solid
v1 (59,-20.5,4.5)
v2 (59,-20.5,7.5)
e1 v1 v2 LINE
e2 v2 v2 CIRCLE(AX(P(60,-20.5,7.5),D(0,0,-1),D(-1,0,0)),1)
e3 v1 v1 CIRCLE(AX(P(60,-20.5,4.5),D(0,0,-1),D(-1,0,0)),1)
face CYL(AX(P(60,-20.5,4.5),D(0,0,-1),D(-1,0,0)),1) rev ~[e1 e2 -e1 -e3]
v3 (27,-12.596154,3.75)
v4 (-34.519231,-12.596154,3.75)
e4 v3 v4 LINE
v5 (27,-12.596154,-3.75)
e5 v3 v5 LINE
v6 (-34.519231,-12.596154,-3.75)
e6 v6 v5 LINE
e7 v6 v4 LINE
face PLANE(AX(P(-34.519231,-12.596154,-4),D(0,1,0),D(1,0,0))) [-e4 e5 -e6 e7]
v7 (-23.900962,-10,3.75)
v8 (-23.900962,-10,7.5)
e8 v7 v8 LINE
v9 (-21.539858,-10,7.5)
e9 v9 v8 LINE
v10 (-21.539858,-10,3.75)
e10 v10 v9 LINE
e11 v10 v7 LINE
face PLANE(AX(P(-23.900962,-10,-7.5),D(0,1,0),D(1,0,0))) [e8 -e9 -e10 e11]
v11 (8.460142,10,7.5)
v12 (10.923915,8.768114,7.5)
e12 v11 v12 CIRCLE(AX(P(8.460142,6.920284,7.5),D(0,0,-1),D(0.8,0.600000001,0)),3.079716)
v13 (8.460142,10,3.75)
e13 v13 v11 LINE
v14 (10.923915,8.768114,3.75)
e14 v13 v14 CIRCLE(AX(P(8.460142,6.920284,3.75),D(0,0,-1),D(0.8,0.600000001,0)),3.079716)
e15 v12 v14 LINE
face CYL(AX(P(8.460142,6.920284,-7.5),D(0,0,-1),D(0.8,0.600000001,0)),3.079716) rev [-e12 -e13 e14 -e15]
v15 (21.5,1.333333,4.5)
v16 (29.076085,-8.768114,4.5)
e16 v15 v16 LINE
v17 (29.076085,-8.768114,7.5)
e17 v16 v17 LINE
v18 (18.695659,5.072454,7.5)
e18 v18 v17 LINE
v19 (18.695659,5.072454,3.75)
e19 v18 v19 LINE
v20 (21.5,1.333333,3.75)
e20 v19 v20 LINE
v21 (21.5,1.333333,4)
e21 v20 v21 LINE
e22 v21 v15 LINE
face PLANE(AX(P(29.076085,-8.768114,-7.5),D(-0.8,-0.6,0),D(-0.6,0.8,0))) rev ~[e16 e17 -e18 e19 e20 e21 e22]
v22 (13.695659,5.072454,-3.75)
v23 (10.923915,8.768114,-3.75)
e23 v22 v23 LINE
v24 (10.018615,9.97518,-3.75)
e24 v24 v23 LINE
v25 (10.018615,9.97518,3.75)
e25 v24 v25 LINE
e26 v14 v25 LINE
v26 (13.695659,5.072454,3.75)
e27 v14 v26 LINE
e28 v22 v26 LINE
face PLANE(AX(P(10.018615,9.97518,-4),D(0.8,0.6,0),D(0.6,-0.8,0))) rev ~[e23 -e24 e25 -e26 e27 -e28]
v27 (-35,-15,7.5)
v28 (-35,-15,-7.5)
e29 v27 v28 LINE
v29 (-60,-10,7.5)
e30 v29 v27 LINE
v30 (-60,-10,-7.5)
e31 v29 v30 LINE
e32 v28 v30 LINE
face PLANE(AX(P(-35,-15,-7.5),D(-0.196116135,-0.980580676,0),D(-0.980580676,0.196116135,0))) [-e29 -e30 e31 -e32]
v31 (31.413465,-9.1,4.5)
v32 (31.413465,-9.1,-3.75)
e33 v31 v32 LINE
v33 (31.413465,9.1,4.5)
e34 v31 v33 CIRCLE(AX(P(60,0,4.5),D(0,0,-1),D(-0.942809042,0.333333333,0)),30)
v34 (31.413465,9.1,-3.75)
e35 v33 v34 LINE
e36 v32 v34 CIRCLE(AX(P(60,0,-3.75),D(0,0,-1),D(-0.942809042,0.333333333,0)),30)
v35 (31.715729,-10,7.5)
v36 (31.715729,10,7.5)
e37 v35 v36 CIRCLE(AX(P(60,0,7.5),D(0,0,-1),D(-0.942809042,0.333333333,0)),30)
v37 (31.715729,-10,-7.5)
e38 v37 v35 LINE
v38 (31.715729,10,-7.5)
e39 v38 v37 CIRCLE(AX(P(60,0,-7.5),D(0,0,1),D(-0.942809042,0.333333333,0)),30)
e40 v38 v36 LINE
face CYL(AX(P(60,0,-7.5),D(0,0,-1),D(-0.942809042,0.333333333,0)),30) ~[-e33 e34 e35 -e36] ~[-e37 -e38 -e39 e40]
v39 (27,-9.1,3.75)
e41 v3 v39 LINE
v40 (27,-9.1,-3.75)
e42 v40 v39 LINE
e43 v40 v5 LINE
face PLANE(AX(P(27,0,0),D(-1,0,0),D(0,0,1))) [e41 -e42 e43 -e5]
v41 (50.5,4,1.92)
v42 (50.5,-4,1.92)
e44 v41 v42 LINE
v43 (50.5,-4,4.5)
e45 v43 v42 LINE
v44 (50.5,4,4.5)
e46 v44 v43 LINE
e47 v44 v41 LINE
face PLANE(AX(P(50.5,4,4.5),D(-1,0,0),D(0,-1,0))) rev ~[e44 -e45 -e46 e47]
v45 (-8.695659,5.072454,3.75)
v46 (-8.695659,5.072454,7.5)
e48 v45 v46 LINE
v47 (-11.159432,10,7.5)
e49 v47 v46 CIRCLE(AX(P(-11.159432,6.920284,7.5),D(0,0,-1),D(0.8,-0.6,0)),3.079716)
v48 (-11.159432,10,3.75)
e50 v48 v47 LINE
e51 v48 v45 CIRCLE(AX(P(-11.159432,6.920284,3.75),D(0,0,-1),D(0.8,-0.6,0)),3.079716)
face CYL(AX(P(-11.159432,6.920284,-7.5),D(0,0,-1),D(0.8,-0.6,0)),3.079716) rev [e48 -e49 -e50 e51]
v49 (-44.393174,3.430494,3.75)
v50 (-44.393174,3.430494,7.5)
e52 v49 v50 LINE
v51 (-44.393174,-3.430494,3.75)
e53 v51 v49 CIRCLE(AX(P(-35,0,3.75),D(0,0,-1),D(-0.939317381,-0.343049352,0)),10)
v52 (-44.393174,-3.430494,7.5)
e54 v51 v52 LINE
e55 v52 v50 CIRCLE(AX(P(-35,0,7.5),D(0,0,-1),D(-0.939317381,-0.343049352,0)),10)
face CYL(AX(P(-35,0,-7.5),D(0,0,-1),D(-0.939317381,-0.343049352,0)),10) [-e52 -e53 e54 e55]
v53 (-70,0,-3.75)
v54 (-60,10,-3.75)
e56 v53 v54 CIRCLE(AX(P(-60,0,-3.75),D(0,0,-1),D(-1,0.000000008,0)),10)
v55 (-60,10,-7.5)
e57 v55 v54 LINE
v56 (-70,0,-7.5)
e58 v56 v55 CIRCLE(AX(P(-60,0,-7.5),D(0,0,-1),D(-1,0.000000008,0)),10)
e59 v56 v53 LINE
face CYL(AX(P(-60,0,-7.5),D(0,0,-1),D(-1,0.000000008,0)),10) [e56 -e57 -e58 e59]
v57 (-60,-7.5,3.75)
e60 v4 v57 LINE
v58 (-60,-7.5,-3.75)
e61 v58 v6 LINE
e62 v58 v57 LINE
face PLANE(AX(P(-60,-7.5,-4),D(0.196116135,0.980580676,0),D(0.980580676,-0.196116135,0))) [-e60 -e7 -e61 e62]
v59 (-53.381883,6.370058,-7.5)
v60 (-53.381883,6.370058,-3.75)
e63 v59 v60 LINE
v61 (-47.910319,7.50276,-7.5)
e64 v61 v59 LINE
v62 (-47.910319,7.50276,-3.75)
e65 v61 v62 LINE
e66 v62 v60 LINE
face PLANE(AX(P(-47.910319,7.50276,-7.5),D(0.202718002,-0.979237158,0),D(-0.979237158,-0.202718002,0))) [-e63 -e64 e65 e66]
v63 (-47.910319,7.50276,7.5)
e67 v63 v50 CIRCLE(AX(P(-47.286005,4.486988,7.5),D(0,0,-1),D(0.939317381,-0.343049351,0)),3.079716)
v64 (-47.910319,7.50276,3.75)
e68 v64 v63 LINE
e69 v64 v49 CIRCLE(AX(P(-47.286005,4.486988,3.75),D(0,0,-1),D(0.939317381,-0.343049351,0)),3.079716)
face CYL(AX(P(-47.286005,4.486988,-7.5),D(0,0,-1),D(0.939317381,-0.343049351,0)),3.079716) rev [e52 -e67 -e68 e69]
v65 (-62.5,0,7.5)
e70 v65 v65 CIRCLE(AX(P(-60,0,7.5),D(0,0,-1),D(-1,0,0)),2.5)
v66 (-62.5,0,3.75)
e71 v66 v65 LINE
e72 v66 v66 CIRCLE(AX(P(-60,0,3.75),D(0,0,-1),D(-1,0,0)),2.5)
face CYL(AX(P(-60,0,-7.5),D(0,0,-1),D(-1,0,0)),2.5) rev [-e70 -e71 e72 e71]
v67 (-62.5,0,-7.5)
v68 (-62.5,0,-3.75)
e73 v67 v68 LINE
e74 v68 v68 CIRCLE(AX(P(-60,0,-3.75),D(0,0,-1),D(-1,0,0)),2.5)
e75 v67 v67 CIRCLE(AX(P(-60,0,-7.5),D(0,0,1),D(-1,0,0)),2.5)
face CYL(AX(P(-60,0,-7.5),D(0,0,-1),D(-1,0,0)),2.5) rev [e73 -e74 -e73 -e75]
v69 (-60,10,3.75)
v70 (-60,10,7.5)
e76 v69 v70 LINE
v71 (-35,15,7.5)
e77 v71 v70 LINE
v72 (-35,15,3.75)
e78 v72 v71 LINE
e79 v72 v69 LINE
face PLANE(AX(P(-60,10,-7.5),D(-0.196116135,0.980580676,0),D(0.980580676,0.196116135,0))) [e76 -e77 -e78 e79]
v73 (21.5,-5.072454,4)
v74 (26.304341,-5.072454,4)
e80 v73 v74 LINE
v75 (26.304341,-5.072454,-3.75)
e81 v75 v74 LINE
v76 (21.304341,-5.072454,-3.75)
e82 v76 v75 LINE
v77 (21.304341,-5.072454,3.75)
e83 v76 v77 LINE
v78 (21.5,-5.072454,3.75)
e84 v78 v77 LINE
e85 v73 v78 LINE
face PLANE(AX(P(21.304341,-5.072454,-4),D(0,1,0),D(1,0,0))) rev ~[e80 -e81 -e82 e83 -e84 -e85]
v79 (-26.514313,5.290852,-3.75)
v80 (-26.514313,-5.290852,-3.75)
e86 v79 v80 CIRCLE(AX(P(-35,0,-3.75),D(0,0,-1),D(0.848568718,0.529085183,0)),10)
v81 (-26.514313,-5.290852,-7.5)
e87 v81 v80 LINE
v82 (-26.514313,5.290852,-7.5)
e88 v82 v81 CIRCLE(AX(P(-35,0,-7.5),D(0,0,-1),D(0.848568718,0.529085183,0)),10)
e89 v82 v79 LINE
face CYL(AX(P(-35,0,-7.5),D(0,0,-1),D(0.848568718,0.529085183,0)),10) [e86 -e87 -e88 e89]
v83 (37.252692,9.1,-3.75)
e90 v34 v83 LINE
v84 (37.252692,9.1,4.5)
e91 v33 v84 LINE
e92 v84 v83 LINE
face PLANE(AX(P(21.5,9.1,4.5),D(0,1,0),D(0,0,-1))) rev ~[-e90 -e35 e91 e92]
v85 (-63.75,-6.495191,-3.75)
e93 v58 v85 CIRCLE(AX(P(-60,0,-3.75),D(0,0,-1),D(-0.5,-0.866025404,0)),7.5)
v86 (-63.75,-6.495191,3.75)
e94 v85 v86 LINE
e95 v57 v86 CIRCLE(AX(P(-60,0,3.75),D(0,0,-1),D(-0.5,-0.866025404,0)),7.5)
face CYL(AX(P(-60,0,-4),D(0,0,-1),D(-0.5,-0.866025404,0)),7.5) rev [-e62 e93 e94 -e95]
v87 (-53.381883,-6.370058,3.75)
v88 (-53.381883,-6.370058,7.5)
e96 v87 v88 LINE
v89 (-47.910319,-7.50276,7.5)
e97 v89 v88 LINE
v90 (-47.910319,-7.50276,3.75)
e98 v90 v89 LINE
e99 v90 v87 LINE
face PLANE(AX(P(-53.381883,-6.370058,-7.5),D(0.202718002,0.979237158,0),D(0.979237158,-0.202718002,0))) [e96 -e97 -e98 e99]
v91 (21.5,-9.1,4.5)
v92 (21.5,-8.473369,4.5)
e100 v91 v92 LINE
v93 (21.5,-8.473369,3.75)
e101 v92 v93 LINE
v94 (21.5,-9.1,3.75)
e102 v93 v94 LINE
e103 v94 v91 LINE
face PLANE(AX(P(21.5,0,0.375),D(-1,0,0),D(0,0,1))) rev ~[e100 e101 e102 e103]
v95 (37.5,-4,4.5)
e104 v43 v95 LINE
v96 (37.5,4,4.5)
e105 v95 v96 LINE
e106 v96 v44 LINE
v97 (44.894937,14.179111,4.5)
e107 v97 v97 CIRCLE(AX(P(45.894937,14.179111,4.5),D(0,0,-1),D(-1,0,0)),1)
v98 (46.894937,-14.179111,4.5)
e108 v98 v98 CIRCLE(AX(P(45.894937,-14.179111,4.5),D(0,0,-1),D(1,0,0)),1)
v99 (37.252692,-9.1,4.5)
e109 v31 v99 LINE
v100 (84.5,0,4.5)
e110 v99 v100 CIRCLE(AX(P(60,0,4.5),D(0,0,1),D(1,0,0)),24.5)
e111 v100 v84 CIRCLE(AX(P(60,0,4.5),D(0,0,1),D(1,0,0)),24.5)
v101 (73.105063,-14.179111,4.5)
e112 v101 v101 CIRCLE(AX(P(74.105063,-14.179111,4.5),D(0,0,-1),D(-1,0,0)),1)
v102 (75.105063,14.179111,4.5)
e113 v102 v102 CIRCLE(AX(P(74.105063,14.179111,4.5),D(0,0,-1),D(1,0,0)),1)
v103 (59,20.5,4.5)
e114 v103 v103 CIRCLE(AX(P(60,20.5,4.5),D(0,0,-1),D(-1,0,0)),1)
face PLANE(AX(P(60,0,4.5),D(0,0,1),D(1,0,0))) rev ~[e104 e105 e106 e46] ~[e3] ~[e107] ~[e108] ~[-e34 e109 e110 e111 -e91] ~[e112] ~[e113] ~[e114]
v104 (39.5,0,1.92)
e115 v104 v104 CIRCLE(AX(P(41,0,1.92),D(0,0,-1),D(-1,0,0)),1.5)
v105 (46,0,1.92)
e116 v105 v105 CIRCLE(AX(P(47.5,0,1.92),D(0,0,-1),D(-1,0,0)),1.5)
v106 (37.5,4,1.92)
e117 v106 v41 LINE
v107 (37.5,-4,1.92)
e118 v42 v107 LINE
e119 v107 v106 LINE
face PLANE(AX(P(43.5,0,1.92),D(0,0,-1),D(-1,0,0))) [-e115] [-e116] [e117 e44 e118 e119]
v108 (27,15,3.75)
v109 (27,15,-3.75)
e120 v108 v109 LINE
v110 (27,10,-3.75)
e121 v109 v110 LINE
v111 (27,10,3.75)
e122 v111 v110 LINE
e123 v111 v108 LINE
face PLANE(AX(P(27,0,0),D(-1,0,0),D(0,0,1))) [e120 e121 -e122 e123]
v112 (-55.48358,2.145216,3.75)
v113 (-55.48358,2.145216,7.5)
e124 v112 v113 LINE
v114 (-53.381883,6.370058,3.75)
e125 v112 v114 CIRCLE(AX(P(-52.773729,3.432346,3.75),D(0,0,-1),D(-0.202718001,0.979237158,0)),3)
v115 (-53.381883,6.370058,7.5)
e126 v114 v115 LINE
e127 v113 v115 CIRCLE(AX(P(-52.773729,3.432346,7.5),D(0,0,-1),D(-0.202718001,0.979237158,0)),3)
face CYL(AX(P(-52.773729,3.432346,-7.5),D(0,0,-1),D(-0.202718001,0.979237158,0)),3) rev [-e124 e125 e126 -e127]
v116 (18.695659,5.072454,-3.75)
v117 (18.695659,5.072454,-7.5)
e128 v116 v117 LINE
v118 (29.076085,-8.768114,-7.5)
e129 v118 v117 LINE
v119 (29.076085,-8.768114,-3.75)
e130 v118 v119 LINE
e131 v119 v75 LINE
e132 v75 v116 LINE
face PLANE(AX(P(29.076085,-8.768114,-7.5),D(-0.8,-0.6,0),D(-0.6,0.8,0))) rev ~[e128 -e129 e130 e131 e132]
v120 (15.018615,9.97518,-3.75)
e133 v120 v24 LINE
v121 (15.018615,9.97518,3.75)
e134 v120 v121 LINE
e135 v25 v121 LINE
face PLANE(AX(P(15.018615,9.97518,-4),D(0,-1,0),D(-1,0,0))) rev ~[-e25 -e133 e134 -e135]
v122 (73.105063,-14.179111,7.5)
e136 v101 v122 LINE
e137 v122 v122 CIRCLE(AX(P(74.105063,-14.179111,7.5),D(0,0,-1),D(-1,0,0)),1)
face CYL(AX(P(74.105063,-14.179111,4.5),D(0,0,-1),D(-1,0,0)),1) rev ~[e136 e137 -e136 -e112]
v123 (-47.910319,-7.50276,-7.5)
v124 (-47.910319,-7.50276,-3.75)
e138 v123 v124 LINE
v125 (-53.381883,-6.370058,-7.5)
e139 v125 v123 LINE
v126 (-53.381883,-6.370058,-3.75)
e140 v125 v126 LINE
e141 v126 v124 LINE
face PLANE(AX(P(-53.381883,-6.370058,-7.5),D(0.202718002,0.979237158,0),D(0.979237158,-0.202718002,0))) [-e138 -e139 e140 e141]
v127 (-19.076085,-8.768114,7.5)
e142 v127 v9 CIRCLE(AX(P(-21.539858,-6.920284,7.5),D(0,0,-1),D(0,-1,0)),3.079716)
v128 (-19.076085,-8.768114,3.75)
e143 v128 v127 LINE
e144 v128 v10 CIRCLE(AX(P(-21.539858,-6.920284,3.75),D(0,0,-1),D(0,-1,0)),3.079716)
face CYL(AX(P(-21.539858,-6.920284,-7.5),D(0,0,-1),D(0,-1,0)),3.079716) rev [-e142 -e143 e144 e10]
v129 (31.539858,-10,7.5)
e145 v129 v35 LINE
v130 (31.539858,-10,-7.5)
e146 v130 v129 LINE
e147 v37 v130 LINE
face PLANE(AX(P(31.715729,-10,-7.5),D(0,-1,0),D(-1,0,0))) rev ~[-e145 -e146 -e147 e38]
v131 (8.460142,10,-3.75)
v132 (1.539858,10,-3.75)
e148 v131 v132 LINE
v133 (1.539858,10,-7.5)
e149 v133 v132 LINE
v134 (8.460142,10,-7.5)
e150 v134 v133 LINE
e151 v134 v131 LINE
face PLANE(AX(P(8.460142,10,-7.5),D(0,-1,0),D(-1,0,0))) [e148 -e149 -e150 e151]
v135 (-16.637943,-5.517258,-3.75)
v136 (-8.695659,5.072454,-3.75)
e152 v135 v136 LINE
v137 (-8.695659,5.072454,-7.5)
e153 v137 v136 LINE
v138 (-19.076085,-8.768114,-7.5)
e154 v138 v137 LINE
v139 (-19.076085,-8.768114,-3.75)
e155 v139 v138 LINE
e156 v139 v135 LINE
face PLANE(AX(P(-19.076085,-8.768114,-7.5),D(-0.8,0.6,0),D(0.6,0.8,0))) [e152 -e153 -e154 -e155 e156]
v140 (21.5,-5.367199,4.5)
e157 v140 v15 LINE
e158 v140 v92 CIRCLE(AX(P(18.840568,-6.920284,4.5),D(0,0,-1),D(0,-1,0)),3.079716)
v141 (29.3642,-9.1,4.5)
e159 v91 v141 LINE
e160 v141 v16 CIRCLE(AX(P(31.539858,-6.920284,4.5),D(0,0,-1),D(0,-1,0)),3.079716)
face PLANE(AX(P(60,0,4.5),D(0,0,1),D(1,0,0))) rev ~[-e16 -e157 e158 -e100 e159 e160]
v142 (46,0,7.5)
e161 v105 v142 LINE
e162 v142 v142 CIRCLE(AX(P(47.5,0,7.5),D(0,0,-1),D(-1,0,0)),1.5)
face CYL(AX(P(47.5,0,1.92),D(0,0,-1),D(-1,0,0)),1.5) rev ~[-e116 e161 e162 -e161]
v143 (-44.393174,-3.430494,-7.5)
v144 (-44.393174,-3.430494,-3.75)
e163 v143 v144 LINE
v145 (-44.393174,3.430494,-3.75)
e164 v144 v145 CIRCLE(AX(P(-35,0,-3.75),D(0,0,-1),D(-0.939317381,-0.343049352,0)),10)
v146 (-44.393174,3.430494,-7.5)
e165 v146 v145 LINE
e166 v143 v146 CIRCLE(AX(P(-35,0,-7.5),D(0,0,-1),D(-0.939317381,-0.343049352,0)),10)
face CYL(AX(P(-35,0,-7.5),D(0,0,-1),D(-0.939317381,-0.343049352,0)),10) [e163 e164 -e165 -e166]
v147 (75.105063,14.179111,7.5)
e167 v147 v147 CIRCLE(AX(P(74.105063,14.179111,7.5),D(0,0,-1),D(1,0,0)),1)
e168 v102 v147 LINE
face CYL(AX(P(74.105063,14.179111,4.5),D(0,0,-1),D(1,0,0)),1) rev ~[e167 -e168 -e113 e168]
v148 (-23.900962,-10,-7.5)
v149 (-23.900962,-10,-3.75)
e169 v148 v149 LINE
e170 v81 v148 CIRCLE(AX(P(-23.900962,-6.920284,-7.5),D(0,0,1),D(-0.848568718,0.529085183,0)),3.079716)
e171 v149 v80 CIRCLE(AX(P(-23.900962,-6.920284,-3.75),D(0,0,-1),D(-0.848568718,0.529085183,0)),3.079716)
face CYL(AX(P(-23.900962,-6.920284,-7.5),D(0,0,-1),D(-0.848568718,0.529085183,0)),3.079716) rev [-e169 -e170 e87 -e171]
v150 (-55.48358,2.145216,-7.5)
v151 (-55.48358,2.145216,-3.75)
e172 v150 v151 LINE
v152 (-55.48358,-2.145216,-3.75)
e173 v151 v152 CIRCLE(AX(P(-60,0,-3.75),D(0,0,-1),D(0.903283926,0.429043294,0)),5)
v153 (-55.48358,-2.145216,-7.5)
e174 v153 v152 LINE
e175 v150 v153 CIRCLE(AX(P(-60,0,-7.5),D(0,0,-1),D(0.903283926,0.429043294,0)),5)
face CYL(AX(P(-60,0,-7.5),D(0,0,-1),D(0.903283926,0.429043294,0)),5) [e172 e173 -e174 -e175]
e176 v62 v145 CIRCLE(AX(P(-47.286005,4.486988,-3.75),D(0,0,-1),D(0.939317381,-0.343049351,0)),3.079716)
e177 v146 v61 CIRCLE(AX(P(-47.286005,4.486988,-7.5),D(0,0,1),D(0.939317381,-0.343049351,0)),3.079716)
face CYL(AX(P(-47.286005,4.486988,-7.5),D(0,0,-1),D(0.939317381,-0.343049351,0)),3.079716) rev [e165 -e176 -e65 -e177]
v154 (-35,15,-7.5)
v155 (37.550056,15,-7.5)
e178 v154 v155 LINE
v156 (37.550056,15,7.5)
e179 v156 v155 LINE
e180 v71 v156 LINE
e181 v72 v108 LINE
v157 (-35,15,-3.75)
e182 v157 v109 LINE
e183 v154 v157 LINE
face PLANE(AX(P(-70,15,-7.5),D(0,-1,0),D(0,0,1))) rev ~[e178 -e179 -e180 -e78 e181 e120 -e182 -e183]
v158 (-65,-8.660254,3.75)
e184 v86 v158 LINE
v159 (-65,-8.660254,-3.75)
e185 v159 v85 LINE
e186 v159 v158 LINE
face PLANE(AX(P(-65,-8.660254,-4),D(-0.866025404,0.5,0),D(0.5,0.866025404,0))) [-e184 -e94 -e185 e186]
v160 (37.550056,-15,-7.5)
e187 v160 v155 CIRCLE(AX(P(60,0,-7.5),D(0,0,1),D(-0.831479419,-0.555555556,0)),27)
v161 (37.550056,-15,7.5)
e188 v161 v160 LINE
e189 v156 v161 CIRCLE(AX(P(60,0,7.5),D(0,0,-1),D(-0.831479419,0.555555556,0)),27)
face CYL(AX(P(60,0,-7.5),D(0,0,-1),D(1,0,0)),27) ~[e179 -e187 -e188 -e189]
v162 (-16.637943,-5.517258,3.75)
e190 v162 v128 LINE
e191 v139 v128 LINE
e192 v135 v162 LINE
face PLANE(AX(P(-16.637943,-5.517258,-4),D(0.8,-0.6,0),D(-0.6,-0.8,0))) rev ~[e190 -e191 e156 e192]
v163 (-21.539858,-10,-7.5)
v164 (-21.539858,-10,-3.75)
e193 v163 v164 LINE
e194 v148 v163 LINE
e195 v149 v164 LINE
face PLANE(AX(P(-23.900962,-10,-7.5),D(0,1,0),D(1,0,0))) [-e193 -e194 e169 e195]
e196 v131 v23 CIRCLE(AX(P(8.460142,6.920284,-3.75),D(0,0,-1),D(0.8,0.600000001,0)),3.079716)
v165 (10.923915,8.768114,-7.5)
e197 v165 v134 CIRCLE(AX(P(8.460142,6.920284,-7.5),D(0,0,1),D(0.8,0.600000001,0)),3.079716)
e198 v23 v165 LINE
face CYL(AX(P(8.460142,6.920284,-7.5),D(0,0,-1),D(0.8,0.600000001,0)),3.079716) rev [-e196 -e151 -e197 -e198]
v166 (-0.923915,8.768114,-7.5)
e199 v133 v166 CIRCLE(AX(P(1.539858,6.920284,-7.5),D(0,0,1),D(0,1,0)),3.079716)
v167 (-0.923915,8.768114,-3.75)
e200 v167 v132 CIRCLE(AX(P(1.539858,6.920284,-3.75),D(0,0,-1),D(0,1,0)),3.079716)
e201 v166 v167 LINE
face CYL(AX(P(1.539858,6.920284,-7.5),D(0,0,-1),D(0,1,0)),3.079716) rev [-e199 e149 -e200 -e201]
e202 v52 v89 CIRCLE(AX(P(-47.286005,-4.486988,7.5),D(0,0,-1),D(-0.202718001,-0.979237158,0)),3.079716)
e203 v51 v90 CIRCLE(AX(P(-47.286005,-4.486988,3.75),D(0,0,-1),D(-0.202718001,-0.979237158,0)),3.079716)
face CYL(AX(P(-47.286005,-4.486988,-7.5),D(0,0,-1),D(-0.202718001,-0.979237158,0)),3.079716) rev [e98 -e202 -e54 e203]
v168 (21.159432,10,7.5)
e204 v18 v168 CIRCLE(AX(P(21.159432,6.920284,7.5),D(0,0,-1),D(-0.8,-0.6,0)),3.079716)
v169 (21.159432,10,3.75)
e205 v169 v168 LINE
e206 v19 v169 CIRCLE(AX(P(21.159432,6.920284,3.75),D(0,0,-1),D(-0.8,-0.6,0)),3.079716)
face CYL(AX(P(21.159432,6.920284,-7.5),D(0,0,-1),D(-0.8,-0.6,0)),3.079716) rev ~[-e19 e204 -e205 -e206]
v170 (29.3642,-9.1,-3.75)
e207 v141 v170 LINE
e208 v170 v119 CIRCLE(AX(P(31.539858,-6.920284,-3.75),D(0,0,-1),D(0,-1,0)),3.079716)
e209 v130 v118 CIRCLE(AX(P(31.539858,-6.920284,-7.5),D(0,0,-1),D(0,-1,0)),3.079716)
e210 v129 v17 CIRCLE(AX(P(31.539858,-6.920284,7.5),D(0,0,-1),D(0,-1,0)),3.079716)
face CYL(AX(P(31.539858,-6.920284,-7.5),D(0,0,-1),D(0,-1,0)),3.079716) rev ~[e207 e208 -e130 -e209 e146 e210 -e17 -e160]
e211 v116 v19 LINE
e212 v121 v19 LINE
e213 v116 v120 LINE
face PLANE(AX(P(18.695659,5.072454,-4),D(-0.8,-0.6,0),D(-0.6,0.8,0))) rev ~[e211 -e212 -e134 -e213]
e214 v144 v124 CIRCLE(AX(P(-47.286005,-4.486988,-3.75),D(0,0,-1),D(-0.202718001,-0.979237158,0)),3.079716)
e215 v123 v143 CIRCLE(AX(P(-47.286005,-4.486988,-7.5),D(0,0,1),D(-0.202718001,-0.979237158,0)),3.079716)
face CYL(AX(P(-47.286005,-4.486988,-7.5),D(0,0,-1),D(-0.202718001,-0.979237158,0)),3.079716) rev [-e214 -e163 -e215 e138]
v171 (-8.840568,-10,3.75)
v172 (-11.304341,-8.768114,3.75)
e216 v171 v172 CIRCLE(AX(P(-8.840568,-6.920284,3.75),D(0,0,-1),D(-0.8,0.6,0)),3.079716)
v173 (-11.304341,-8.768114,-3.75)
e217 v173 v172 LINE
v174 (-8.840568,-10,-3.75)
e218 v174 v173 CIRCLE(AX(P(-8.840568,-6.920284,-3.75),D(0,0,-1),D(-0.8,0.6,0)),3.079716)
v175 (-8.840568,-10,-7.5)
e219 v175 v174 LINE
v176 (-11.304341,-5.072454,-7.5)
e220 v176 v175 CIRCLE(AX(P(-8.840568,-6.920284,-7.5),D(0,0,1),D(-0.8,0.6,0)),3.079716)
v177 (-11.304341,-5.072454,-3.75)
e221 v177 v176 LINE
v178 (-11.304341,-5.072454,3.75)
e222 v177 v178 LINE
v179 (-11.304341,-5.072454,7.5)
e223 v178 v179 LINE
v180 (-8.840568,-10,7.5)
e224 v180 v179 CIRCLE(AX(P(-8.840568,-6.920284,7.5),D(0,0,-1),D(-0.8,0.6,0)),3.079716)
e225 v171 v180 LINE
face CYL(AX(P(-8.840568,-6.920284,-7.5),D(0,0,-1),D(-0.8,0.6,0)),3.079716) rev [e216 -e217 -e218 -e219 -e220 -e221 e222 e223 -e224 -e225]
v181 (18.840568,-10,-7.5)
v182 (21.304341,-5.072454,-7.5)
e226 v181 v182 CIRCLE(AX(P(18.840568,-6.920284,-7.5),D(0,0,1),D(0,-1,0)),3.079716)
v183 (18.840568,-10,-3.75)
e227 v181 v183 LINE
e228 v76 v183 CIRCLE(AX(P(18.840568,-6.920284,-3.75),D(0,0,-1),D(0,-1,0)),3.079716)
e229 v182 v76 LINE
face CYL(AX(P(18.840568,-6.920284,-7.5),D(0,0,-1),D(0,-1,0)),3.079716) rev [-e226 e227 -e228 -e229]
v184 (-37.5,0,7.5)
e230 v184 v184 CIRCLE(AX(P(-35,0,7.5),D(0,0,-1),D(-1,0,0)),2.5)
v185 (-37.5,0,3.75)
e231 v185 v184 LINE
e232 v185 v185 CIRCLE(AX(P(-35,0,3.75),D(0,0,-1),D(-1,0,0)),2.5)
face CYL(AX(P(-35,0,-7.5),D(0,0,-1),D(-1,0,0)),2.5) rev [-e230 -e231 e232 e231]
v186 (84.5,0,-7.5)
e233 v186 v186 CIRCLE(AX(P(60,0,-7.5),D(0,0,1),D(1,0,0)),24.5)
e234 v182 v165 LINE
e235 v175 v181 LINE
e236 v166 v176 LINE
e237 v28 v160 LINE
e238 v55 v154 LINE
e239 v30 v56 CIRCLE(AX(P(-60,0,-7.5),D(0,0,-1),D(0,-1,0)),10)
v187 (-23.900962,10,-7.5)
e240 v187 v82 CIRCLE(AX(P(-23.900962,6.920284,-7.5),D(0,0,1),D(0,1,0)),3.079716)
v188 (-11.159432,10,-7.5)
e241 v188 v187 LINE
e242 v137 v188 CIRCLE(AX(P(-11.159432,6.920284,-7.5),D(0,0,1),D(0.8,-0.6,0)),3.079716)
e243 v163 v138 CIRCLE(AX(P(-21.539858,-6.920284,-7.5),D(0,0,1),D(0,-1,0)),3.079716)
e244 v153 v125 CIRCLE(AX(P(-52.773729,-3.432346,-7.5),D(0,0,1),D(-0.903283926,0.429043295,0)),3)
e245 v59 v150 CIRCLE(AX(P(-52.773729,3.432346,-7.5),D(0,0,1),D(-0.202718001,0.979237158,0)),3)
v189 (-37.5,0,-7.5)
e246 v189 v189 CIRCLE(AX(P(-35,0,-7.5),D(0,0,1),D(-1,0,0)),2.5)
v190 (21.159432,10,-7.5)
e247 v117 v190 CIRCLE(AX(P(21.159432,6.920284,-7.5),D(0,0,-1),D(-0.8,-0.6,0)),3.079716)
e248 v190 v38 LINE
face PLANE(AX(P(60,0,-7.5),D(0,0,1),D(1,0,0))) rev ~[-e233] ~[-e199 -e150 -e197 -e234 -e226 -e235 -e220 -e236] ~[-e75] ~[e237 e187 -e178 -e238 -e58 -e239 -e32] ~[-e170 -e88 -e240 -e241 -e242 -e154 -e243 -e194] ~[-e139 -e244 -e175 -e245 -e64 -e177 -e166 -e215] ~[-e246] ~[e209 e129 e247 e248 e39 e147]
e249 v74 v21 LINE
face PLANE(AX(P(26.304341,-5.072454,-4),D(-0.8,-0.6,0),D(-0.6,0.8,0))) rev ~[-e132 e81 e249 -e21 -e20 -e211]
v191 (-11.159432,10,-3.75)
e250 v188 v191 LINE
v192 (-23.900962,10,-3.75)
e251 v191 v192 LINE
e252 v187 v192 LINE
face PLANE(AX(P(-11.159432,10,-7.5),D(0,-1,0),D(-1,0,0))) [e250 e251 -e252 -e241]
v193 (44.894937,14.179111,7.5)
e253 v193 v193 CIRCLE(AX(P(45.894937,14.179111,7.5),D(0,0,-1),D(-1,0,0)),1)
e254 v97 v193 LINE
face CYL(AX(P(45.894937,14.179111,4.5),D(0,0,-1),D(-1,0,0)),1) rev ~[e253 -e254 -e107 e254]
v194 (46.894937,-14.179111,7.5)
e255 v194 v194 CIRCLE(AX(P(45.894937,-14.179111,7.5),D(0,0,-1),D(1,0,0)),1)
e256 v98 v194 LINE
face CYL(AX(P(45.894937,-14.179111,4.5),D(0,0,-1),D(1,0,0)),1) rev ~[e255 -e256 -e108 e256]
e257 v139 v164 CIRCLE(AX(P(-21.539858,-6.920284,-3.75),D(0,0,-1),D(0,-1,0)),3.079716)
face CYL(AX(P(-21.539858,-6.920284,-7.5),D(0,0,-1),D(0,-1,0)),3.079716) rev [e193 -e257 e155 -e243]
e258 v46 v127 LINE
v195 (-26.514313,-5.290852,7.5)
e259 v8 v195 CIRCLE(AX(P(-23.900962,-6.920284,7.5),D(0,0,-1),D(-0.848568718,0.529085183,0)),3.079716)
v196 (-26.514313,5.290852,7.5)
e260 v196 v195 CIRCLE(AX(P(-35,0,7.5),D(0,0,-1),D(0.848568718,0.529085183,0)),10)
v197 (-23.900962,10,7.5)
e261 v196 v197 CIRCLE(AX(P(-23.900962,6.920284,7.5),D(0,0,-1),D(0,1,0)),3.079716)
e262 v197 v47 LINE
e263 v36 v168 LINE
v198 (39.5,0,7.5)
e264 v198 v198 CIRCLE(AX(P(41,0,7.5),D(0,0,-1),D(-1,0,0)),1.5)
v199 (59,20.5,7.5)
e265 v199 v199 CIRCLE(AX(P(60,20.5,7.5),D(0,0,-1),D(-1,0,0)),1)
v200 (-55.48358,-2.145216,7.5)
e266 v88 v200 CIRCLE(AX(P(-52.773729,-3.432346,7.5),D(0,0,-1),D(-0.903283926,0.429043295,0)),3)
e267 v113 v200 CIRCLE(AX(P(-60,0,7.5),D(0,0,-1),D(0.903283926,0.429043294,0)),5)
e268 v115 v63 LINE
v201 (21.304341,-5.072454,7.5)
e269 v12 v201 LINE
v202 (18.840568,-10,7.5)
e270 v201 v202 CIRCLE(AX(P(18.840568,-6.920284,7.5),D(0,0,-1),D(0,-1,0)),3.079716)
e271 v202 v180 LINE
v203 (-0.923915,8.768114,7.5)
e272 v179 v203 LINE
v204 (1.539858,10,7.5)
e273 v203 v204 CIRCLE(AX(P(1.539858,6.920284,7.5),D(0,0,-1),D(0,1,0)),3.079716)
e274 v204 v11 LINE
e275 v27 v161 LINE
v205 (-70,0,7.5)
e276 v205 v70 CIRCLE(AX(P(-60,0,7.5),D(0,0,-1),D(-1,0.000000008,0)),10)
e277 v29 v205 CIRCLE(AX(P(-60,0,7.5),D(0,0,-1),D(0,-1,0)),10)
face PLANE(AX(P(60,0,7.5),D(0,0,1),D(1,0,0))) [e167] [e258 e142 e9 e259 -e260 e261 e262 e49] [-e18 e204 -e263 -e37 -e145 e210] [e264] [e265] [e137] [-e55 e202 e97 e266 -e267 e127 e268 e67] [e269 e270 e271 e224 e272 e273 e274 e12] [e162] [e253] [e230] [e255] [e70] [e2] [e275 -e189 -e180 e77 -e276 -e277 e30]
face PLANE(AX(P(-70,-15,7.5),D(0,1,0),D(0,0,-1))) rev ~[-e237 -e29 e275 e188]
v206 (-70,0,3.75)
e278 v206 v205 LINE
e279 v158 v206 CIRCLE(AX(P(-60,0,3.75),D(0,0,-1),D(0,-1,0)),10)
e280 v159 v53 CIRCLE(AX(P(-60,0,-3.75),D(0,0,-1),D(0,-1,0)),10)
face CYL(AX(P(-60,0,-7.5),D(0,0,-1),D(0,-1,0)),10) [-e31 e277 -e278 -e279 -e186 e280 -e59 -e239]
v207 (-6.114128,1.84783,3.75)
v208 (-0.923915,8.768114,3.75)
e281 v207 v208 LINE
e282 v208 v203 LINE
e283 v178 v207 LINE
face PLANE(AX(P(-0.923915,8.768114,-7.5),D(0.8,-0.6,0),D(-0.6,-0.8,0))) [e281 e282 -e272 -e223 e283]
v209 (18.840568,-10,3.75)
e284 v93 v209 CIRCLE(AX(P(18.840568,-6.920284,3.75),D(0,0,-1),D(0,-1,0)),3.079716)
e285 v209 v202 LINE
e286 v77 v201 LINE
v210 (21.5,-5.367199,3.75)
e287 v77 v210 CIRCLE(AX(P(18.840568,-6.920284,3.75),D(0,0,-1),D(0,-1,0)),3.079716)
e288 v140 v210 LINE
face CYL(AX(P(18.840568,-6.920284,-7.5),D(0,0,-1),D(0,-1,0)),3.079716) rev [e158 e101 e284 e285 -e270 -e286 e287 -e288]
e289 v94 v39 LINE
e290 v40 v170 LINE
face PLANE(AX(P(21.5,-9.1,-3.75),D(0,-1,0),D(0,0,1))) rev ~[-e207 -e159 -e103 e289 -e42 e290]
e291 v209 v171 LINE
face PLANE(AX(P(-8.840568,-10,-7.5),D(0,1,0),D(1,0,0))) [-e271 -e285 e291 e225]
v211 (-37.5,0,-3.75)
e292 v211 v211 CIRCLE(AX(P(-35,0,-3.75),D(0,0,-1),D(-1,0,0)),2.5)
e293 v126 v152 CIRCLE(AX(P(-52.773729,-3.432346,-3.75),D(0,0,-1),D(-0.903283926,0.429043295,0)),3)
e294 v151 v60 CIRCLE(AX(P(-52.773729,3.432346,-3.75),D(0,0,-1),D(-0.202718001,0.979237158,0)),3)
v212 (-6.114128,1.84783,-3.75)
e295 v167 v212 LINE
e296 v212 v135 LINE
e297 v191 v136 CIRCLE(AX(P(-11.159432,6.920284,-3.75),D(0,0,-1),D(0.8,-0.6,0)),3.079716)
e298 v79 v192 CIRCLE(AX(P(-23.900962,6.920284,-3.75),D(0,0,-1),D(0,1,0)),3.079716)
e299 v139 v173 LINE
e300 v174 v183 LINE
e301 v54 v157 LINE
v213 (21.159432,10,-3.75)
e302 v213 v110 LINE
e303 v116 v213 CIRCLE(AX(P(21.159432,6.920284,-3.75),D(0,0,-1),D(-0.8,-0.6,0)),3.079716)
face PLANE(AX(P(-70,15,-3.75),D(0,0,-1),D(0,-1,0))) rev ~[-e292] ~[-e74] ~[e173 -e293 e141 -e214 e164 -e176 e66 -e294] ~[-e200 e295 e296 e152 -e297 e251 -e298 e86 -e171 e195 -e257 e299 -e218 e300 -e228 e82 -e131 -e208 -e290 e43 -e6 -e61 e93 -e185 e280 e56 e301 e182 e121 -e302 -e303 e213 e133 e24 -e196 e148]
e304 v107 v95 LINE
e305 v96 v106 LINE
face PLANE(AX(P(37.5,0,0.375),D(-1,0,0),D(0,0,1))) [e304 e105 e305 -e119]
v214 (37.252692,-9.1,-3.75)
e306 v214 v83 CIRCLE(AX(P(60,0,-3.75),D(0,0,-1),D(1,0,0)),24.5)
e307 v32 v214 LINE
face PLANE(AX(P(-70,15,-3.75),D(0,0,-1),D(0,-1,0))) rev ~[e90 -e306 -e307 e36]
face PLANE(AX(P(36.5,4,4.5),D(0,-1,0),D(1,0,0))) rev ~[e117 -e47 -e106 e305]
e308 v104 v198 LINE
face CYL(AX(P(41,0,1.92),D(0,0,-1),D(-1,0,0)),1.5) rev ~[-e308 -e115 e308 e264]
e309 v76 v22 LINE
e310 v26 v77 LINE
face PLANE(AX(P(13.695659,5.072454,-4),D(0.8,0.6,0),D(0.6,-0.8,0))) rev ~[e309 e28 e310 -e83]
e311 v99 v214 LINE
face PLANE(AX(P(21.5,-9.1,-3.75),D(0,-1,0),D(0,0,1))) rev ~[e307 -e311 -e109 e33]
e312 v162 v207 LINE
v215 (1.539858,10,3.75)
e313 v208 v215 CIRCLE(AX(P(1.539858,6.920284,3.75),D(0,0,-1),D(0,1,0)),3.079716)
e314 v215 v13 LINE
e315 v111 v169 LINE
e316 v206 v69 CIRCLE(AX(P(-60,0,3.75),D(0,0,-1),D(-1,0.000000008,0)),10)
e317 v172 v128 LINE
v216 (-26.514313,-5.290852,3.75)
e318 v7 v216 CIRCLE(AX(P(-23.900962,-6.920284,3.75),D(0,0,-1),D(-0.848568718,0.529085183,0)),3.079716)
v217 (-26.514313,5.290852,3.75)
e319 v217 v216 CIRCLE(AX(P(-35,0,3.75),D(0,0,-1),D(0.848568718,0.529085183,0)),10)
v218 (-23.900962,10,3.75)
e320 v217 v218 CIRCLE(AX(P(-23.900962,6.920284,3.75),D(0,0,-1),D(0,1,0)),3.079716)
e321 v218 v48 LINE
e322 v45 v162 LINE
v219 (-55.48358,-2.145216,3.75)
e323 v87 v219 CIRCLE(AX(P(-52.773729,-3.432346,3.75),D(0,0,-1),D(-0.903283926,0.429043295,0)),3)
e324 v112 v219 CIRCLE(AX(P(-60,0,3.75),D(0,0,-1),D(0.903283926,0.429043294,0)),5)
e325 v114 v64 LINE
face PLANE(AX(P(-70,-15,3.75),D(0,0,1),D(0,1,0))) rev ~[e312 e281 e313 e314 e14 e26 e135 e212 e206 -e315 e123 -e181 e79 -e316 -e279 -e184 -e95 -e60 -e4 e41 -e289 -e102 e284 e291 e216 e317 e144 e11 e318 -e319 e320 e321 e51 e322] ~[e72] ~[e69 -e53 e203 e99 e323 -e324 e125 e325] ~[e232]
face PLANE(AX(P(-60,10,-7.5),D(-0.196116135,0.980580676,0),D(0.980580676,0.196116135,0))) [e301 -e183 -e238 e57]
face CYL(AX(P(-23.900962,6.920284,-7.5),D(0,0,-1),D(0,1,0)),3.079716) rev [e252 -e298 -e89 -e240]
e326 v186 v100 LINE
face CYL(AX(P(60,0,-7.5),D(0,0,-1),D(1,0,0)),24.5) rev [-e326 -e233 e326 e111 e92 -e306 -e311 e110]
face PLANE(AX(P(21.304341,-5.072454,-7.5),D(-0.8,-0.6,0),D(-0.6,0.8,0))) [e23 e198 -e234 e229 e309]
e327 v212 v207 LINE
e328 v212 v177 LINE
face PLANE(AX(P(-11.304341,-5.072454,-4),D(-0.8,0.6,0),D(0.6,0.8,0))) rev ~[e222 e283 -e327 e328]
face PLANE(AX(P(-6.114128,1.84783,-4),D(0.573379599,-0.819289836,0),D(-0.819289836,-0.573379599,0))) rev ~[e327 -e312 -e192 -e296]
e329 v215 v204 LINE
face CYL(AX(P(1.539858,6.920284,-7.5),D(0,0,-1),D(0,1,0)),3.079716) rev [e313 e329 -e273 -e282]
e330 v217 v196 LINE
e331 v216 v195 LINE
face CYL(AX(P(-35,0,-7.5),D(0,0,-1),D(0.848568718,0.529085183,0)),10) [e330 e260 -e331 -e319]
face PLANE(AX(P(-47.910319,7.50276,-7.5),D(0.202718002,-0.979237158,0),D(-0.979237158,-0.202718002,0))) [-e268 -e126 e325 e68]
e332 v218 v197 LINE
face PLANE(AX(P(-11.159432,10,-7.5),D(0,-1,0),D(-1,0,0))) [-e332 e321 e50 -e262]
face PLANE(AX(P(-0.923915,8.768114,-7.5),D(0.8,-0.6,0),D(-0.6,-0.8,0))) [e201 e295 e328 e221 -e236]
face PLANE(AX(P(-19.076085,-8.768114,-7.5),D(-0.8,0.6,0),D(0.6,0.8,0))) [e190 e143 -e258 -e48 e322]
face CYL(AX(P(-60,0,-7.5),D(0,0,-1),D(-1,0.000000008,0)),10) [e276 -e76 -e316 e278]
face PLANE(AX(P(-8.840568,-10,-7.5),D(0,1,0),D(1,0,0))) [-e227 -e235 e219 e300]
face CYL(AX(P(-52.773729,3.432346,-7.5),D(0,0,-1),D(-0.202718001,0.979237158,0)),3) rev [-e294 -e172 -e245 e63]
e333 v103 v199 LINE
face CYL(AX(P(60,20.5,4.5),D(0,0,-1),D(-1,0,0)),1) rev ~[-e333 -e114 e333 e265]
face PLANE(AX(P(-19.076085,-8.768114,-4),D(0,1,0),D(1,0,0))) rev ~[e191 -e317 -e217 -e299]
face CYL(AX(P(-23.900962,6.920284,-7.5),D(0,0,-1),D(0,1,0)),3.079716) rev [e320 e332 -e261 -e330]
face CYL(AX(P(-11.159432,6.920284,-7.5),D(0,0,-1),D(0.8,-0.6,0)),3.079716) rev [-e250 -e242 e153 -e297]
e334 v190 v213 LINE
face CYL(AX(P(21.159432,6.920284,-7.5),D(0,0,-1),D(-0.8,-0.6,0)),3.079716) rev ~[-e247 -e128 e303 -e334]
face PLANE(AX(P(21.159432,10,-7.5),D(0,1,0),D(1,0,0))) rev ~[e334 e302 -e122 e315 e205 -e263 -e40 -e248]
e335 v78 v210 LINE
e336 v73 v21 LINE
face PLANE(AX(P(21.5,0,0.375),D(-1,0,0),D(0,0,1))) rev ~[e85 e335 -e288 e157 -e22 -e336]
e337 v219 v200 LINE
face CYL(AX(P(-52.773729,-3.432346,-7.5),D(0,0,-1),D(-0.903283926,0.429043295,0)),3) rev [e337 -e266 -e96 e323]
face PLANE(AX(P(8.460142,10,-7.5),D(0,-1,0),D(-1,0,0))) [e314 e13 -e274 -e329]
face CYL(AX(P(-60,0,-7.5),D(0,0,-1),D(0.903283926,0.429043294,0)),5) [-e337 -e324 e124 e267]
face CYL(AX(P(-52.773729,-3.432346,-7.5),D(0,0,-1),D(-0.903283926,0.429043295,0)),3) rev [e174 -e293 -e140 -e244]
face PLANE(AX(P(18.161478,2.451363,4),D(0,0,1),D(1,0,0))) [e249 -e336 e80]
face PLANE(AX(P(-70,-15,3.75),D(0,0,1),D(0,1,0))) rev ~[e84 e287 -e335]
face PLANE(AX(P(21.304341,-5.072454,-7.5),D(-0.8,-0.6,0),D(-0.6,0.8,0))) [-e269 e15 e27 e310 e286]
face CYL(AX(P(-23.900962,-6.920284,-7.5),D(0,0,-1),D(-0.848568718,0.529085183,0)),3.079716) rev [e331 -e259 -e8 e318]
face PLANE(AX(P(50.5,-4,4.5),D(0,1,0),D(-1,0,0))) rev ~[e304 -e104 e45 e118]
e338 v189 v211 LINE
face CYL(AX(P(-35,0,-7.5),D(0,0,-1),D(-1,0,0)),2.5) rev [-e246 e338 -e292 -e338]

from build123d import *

# Parameters (mm, degrees)
EXTRUDE_1_DEPTH          = 60
EXTRUDE_1_DEPTH_BACK     = 70
EXTRUDE_2_DEPTH          = 7.5
EXTRUDE_2_DEPTH_BACK     = 7.5
SKETCH_2_R               = 27
SKETCH_2_R_2             = 23.5
CUT_EXTRUDE_1_DEPTH      = 7.5
CUT_EXTRUDE_1_DEPTH_BACK = 7.5
SKETCH_3_R               = 24.5
SKETCH_4_R               = 24.5
EXTRUDE_3_DEPTH          = 3
EXTRUDE_4_DEPTH          = 2.58
SKETCH_6_R               = 1
CUT_EXTRUDE_2_DEPTH      = 3
SKETCH_7_R               = 1.5
CUT_EXTRUDE_3_DEPTH      = 5.58
CUT_EXTRUDE_4_DEPTH      = 97
CUT_EXTRUDE_5_DEPTH      = 1
CUT_EXTRUDE_5_DEPTH_BACK = 15
CUT_EXTRUDE_6_DEPTH      = 92.401586419
CUT_EXTRUDE_6_DEPTH_BACK = 7.5
SKETCH_10_R              = 2.5
EXTRUDE_5_DEPTH          = 4
EXTRUDE_5_DEPTH_BACK     = 4
EXTRUDE_6_DEPTH          = 4
EXTRUDE_6_DEPTH_BACK     = 4


with BuildPart() as part:
    # 草图1 → 凸台-拉伸1 (new, two sides: drawn at the far end of the back side and taken through both)
    with BuildSketch(Plane(origin=(0, 0, 0), x_dir=(0, 0, -1), z_dir=(1, 0, 0)).offset(-EXTRUDE_1_DEPTH_BACK)):
        Polygon((7.5, 0), (7.5, 15), (-7.5, 15), (-7.5, -15), (7.5, -15), align=None)
    extrude(amount=EXTRUDE_1_DEPTH + EXTRUDE_1_DEPTH_BACK)

    # 草图2 → 凸台-拉伸2 (add, two sides: drawn at the far end of the back side and taken through both)
    with BuildSketch(Plane.XY.offset(-EXTRUDE_2_DEPTH_BACK)):
        with Locations((60, 0)):
            Circle(SKETCH_2_R)
        with Locations((60, 0)):
            Circle(SKETCH_2_R_2, mode=Mode.SUBTRACT)
    extrude(amount=EXTRUDE_2_DEPTH + EXTRUDE_2_DEPTH_BACK)

    # 草图3 → 切除-拉伸1 (cut, two sides: drawn at the far end of the back side and taken through both)
    with BuildSketch(Plane.XY.offset(-CUT_EXTRUDE_1_DEPTH_BACK)):
        with Locations((60, 0)):
            Circle(SKETCH_3_R)
    extrude(amount=CUT_EXTRUDE_1_DEPTH + CUT_EXTRUDE_1_DEPTH_BACK, mode=Mode.SUBTRACT)

    # 草图4 → 凸台-拉伸3 (add)
    with BuildSketch(Plane.XY.offset(7.5)):
        with Locations((60, 0)):
            Circle(SKETCH_4_R)
    extrude(amount=-EXTRUDE_3_DEPTH)

    # 草图5 → 凸台-拉伸4 (add)
    with BuildSketch(Plane(origin=(0, 0, 4.5), x_dir=(-1, 0, 0), z_dir=(0, 0, -1))):
        Polygon((-36.5, 0), (-36.5, 4), (-40.5, 4), (-45.5, 4), (-50.5, 4), (-50.5, 0), (-50.5, -4), (-36.5, -4), align=None)
    extrude(amount=EXTRUDE_4_DEPTH)

    # 草图6 → 切除-拉伸2 (cut)
    with BuildSketch(Plane(origin=(0, 0, 4.5), x_dir=(-1, 0, 0), z_dir=(0, 0, -1))):
        with Locations((-60, 20.5)):
            Circle(SKETCH_6_R)
        with Locations((-60, -20.5)):
            Circle(SKETCH_6_R)
        with Locations((-45.894936823, 14.179111142)):
            Circle(SKETCH_6_R)
        with Locations((-74.105063177, 14.179111142)):
            Circle(SKETCH_6_R)
        with Locations((-74.105063177, -14.179111142)):
            Circle(SKETCH_6_R)
        with Locations((-45.894936823, -14.179111142)):
            Circle(SKETCH_6_R)
    extrude(amount=-CUT_EXTRUDE_2_DEPTH, mode=Mode.SUBTRACT)

    # 草图7 → 切除-拉伸3 (cut)
    with BuildSketch(Plane(origin=(0, 0, 1.92), x_dir=(-1, 0, 0), z_dir=(0, 0, -1))):
        with Locations((-47.5, 0)):
            Circle(SKETCH_7_R)
        with Locations((-41, 0)):
            Circle(SKETCH_7_R)
    extrude(amount=-CUT_EXTRUDE_3_DEPTH, mode=Mode.SUBTRACT)

    # 草图8 → 切除-拉伸4 (cut)
    with BuildSketch(Plane.ZY.offset(70)):
        Polygon((0, 15), (-3.75, 15), (-3.75, -15), (3.75, -15), (3.75, 15), align=None)
    extrude(amount=-CUT_EXTRUDE_4_DEPTH, mode=Mode.SUBTRACT)

    # 草图9 → 切除-拉伸5 (cut, two sides: drawn at the far end of the back side and taken through both)
    with BuildSketch(Plane(origin=(36.5, 0, 0), x_dir=(0, 0, -1), z_dir=(1, 0, 0)).offset(-CUT_EXTRUDE_5_DEPTH_BACK)):
        Polygon((3.75, -9.1), (3.75, 0), (3.75, 9.1), (-4.5, 9.1), (-4.5, -9.1), align=None)
    extrude(amount=CUT_EXTRUDE_5_DEPTH + CUT_EXTRUDE_5_DEPTH_BACK, mode=Mode.SUBTRACT)

    # 草图10 → 切除-拉伸6 (cut, two sides: drawn at the far end of the back side and taken through both)
    with BuildSketch(Plane.XY.offset(-CUT_EXTRUDE_6_DEPTH_BACK)):
        with BuildLine():
            ThreePointArc((-60, -10), (-67.071067841, -7.071067782), (-70, 8.3e-08))
            Line((-70, 8.3e-08), (-70, -15))
            Line((-70, -15), (-35, -15))
            Line((-35, -15), (-60, -10))
        make_face()
        with BuildLine():
            Line((-60, 10), (-35, 15))
            Line((-35, 15), (-70, 15))
            Line((-70, 15), (-70, 8.3e-08))
            ThreePointArc((-70, 8.3e-08), (-67.071067782, 7.071067841), (-60, 10))
        make_face()
        with BuildLine():
            Line((-47.910318504, 7.502760494), (-53.381882594, 6.370057829))
            ThreePointArc((-53.381882594, 6.370057829), (-55.459731516, 4.768530579), (-55.483580368, 2.145216472))
            ThreePointArc((-55.483580368, 2.145216472), (-55, 0), (-55.483580368, -2.145216472))
            ThreePointArc((-55.483580368, -2.145216472), (-55.459731516, -4.768530579), (-53.381882594, -6.370057829))
            Line((-53.381882594, -6.370057829), (-47.910318504, -7.502760494))
            ThreePointArc((-47.910318504, -7.502760494), (-44.955257563, -6.500012961), (-44.393173811, -3.430493514))
            ThreePointArc((-44.393173811, -3.430493514), (-45, 0), (-44.393173811, 3.430493514))
            ThreePointArc((-44.393173811, 3.430493514), (-44.955257563, 6.500012961), (-47.910318504, 7.502760494))
        make_face()
        with BuildLine():
            Line((-11.159432091, 10), (-23.900962122, 10))
            ThreePointArc((-23.900962122, 10), (-26.593808125, 8.414683944), (-26.514312819, 5.290851828))
            ThreePointArc((-26.514312819, 5.290851828), (-25, 0), (-26.514312819, -5.290851828))
            ThreePointArc((-26.514312819, -5.290851828), (-26.593808125, -8.414683944), (-23.900962122, -10))
            Line((-23.900962122, -10), (-21.539858023, -10))
            ThreePointArc((-21.539858023, -10), (-20.162567137, -9.674865726), (-19.076085186, -8.768113582))
            Line((-19.076085186, -8.768113582), (-8.695659254, 5.072454327))
            ThreePointArc((-8.695659254, 5.072454327), (-8.404850319, 8.29757484), (-11.159432091, 10))
        make_face()
        with BuildLine():
            Line((-0.923914814, 8.768113582), (-11.304340746, -5.072454327))
            ThreePointArc((-11.304340746, -5.072454327), (-11.595149681, -8.29757484), (-8.840567909, -10))
            Line((-8.840567909, -10), (18.840567909, -10))
            ThreePointArc((18.840567909, -10), (21.595149681, -8.29757484), (21.304340746, -5.072454327))
            Line((21.304340746, -5.072454327), (10.923914814, 8.768113582))
            ThreePointArc((10.923914814, 8.768113582), (9.837432863, 9.674865726), (8.460141977, 10))
            Line((8.460141977, 10), (1.539858023, 10))
            ThreePointArc((1.539858023, 10), (0.162567137, 9.674865726), (-0.923914814, 8.768113582))
        make_face()
        with BuildLine():
            ThreePointArc((21.159432091, 10), (18.404850319, 8.29757484), (18.695659254, 5.072454327))
            Line((18.695659254, 5.072454327), (29.076085186, -8.768113582))
            ThreePointArc((29.076085186, -8.768113582), (30.162567137, -9.674865726), (31.539858023, -10))
            Line((31.539858023, -10), (31.715728753, -10))
            ThreePointArc((31.715728753, -10), (30, 0), (31.715728753, 10))
            Line((31.715728753, 10), (21.159432091, 10))
        make_face()
        with Locations((-60, 0)):
            Circle(SKETCH_10_R)
        with Locations((-35, 0)):
            Circle(SKETCH_10_R)
    extrude(amount=CUT_EXTRUDE_6_DEPTH + CUT_EXTRUDE_6_DEPTH_BACK, mode=Mode.SUBTRACT)

    # 草图11 → 凸台-拉伸5 (add, two sides: drawn at the far end of the back side and taken through both)
    with BuildSketch(Plane.XY.offset(-EXTRUDE_5_DEPTH_BACK)):
        with BuildLine():
            Line((-60, -7.5), (-34.519230769, -12.596153846))
            Line((-34.519230769, -12.596153846), (32.772497208, -12.596153846))
            ThreePointArc((32.772497208, -12.596153846), (33.368731111, -13.812151076), (34.019237886, -15))
            Line((34.019237886, -15), (-35, -15))
            Line((-35, -15), (-60, -10))
            ThreePointArc((-60, -10), (-62.588190451, -9.659258263), (-65, -8.660254038))
            Line((-65, -8.660254038), (-63.75, -6.495190528))
            ThreePointArc((-63.75, -6.495190528), (-61.941142838, -7.244443697), (-60, -7.5))
        make_face()
    extrude(amount=EXTRUDE_5_DEPTH + EXTRUDE_5_DEPTH_BACK)

    # 草图12 → 凸台-拉伸6 (add, two sides: drawn at the far end of the back side and taken through both)
    with BuildSketch(Plane.XY.offset(-EXTRUDE_6_DEPTH_BACK)):
        Polygon((13.695659254, 5.072454327), (21.304340746, -5.072454327), (26.304340746, -5.072454327), (18.695659254, 5.072454327), (15.018615082, 9.975179891), (10.018615082, 9.975179891), align=None)
        with BuildLine():
            Line((-19.076085186, -8.768113582), (-11.304340746, -8.768113582))
            ThreePointArc((-11.304340746, -8.768113582), (-11.920283955, -6.920283955), (-11.304340746, -5.072454327))
            Line((-11.304340746, -5.072454327), (-6.11412778, 1.847829627))
            Line((-6.11412778, 1.847829627), (-16.637943127, -5.517257503))
            Line((-16.637943127, -5.517257503), (-19.076085186, -8.768113582))
        make_face()
    extrude(amount=EXTRUDE_6_DEPTH + EXTRUDE_6_DEPTH_BACK)


solid = part.part
